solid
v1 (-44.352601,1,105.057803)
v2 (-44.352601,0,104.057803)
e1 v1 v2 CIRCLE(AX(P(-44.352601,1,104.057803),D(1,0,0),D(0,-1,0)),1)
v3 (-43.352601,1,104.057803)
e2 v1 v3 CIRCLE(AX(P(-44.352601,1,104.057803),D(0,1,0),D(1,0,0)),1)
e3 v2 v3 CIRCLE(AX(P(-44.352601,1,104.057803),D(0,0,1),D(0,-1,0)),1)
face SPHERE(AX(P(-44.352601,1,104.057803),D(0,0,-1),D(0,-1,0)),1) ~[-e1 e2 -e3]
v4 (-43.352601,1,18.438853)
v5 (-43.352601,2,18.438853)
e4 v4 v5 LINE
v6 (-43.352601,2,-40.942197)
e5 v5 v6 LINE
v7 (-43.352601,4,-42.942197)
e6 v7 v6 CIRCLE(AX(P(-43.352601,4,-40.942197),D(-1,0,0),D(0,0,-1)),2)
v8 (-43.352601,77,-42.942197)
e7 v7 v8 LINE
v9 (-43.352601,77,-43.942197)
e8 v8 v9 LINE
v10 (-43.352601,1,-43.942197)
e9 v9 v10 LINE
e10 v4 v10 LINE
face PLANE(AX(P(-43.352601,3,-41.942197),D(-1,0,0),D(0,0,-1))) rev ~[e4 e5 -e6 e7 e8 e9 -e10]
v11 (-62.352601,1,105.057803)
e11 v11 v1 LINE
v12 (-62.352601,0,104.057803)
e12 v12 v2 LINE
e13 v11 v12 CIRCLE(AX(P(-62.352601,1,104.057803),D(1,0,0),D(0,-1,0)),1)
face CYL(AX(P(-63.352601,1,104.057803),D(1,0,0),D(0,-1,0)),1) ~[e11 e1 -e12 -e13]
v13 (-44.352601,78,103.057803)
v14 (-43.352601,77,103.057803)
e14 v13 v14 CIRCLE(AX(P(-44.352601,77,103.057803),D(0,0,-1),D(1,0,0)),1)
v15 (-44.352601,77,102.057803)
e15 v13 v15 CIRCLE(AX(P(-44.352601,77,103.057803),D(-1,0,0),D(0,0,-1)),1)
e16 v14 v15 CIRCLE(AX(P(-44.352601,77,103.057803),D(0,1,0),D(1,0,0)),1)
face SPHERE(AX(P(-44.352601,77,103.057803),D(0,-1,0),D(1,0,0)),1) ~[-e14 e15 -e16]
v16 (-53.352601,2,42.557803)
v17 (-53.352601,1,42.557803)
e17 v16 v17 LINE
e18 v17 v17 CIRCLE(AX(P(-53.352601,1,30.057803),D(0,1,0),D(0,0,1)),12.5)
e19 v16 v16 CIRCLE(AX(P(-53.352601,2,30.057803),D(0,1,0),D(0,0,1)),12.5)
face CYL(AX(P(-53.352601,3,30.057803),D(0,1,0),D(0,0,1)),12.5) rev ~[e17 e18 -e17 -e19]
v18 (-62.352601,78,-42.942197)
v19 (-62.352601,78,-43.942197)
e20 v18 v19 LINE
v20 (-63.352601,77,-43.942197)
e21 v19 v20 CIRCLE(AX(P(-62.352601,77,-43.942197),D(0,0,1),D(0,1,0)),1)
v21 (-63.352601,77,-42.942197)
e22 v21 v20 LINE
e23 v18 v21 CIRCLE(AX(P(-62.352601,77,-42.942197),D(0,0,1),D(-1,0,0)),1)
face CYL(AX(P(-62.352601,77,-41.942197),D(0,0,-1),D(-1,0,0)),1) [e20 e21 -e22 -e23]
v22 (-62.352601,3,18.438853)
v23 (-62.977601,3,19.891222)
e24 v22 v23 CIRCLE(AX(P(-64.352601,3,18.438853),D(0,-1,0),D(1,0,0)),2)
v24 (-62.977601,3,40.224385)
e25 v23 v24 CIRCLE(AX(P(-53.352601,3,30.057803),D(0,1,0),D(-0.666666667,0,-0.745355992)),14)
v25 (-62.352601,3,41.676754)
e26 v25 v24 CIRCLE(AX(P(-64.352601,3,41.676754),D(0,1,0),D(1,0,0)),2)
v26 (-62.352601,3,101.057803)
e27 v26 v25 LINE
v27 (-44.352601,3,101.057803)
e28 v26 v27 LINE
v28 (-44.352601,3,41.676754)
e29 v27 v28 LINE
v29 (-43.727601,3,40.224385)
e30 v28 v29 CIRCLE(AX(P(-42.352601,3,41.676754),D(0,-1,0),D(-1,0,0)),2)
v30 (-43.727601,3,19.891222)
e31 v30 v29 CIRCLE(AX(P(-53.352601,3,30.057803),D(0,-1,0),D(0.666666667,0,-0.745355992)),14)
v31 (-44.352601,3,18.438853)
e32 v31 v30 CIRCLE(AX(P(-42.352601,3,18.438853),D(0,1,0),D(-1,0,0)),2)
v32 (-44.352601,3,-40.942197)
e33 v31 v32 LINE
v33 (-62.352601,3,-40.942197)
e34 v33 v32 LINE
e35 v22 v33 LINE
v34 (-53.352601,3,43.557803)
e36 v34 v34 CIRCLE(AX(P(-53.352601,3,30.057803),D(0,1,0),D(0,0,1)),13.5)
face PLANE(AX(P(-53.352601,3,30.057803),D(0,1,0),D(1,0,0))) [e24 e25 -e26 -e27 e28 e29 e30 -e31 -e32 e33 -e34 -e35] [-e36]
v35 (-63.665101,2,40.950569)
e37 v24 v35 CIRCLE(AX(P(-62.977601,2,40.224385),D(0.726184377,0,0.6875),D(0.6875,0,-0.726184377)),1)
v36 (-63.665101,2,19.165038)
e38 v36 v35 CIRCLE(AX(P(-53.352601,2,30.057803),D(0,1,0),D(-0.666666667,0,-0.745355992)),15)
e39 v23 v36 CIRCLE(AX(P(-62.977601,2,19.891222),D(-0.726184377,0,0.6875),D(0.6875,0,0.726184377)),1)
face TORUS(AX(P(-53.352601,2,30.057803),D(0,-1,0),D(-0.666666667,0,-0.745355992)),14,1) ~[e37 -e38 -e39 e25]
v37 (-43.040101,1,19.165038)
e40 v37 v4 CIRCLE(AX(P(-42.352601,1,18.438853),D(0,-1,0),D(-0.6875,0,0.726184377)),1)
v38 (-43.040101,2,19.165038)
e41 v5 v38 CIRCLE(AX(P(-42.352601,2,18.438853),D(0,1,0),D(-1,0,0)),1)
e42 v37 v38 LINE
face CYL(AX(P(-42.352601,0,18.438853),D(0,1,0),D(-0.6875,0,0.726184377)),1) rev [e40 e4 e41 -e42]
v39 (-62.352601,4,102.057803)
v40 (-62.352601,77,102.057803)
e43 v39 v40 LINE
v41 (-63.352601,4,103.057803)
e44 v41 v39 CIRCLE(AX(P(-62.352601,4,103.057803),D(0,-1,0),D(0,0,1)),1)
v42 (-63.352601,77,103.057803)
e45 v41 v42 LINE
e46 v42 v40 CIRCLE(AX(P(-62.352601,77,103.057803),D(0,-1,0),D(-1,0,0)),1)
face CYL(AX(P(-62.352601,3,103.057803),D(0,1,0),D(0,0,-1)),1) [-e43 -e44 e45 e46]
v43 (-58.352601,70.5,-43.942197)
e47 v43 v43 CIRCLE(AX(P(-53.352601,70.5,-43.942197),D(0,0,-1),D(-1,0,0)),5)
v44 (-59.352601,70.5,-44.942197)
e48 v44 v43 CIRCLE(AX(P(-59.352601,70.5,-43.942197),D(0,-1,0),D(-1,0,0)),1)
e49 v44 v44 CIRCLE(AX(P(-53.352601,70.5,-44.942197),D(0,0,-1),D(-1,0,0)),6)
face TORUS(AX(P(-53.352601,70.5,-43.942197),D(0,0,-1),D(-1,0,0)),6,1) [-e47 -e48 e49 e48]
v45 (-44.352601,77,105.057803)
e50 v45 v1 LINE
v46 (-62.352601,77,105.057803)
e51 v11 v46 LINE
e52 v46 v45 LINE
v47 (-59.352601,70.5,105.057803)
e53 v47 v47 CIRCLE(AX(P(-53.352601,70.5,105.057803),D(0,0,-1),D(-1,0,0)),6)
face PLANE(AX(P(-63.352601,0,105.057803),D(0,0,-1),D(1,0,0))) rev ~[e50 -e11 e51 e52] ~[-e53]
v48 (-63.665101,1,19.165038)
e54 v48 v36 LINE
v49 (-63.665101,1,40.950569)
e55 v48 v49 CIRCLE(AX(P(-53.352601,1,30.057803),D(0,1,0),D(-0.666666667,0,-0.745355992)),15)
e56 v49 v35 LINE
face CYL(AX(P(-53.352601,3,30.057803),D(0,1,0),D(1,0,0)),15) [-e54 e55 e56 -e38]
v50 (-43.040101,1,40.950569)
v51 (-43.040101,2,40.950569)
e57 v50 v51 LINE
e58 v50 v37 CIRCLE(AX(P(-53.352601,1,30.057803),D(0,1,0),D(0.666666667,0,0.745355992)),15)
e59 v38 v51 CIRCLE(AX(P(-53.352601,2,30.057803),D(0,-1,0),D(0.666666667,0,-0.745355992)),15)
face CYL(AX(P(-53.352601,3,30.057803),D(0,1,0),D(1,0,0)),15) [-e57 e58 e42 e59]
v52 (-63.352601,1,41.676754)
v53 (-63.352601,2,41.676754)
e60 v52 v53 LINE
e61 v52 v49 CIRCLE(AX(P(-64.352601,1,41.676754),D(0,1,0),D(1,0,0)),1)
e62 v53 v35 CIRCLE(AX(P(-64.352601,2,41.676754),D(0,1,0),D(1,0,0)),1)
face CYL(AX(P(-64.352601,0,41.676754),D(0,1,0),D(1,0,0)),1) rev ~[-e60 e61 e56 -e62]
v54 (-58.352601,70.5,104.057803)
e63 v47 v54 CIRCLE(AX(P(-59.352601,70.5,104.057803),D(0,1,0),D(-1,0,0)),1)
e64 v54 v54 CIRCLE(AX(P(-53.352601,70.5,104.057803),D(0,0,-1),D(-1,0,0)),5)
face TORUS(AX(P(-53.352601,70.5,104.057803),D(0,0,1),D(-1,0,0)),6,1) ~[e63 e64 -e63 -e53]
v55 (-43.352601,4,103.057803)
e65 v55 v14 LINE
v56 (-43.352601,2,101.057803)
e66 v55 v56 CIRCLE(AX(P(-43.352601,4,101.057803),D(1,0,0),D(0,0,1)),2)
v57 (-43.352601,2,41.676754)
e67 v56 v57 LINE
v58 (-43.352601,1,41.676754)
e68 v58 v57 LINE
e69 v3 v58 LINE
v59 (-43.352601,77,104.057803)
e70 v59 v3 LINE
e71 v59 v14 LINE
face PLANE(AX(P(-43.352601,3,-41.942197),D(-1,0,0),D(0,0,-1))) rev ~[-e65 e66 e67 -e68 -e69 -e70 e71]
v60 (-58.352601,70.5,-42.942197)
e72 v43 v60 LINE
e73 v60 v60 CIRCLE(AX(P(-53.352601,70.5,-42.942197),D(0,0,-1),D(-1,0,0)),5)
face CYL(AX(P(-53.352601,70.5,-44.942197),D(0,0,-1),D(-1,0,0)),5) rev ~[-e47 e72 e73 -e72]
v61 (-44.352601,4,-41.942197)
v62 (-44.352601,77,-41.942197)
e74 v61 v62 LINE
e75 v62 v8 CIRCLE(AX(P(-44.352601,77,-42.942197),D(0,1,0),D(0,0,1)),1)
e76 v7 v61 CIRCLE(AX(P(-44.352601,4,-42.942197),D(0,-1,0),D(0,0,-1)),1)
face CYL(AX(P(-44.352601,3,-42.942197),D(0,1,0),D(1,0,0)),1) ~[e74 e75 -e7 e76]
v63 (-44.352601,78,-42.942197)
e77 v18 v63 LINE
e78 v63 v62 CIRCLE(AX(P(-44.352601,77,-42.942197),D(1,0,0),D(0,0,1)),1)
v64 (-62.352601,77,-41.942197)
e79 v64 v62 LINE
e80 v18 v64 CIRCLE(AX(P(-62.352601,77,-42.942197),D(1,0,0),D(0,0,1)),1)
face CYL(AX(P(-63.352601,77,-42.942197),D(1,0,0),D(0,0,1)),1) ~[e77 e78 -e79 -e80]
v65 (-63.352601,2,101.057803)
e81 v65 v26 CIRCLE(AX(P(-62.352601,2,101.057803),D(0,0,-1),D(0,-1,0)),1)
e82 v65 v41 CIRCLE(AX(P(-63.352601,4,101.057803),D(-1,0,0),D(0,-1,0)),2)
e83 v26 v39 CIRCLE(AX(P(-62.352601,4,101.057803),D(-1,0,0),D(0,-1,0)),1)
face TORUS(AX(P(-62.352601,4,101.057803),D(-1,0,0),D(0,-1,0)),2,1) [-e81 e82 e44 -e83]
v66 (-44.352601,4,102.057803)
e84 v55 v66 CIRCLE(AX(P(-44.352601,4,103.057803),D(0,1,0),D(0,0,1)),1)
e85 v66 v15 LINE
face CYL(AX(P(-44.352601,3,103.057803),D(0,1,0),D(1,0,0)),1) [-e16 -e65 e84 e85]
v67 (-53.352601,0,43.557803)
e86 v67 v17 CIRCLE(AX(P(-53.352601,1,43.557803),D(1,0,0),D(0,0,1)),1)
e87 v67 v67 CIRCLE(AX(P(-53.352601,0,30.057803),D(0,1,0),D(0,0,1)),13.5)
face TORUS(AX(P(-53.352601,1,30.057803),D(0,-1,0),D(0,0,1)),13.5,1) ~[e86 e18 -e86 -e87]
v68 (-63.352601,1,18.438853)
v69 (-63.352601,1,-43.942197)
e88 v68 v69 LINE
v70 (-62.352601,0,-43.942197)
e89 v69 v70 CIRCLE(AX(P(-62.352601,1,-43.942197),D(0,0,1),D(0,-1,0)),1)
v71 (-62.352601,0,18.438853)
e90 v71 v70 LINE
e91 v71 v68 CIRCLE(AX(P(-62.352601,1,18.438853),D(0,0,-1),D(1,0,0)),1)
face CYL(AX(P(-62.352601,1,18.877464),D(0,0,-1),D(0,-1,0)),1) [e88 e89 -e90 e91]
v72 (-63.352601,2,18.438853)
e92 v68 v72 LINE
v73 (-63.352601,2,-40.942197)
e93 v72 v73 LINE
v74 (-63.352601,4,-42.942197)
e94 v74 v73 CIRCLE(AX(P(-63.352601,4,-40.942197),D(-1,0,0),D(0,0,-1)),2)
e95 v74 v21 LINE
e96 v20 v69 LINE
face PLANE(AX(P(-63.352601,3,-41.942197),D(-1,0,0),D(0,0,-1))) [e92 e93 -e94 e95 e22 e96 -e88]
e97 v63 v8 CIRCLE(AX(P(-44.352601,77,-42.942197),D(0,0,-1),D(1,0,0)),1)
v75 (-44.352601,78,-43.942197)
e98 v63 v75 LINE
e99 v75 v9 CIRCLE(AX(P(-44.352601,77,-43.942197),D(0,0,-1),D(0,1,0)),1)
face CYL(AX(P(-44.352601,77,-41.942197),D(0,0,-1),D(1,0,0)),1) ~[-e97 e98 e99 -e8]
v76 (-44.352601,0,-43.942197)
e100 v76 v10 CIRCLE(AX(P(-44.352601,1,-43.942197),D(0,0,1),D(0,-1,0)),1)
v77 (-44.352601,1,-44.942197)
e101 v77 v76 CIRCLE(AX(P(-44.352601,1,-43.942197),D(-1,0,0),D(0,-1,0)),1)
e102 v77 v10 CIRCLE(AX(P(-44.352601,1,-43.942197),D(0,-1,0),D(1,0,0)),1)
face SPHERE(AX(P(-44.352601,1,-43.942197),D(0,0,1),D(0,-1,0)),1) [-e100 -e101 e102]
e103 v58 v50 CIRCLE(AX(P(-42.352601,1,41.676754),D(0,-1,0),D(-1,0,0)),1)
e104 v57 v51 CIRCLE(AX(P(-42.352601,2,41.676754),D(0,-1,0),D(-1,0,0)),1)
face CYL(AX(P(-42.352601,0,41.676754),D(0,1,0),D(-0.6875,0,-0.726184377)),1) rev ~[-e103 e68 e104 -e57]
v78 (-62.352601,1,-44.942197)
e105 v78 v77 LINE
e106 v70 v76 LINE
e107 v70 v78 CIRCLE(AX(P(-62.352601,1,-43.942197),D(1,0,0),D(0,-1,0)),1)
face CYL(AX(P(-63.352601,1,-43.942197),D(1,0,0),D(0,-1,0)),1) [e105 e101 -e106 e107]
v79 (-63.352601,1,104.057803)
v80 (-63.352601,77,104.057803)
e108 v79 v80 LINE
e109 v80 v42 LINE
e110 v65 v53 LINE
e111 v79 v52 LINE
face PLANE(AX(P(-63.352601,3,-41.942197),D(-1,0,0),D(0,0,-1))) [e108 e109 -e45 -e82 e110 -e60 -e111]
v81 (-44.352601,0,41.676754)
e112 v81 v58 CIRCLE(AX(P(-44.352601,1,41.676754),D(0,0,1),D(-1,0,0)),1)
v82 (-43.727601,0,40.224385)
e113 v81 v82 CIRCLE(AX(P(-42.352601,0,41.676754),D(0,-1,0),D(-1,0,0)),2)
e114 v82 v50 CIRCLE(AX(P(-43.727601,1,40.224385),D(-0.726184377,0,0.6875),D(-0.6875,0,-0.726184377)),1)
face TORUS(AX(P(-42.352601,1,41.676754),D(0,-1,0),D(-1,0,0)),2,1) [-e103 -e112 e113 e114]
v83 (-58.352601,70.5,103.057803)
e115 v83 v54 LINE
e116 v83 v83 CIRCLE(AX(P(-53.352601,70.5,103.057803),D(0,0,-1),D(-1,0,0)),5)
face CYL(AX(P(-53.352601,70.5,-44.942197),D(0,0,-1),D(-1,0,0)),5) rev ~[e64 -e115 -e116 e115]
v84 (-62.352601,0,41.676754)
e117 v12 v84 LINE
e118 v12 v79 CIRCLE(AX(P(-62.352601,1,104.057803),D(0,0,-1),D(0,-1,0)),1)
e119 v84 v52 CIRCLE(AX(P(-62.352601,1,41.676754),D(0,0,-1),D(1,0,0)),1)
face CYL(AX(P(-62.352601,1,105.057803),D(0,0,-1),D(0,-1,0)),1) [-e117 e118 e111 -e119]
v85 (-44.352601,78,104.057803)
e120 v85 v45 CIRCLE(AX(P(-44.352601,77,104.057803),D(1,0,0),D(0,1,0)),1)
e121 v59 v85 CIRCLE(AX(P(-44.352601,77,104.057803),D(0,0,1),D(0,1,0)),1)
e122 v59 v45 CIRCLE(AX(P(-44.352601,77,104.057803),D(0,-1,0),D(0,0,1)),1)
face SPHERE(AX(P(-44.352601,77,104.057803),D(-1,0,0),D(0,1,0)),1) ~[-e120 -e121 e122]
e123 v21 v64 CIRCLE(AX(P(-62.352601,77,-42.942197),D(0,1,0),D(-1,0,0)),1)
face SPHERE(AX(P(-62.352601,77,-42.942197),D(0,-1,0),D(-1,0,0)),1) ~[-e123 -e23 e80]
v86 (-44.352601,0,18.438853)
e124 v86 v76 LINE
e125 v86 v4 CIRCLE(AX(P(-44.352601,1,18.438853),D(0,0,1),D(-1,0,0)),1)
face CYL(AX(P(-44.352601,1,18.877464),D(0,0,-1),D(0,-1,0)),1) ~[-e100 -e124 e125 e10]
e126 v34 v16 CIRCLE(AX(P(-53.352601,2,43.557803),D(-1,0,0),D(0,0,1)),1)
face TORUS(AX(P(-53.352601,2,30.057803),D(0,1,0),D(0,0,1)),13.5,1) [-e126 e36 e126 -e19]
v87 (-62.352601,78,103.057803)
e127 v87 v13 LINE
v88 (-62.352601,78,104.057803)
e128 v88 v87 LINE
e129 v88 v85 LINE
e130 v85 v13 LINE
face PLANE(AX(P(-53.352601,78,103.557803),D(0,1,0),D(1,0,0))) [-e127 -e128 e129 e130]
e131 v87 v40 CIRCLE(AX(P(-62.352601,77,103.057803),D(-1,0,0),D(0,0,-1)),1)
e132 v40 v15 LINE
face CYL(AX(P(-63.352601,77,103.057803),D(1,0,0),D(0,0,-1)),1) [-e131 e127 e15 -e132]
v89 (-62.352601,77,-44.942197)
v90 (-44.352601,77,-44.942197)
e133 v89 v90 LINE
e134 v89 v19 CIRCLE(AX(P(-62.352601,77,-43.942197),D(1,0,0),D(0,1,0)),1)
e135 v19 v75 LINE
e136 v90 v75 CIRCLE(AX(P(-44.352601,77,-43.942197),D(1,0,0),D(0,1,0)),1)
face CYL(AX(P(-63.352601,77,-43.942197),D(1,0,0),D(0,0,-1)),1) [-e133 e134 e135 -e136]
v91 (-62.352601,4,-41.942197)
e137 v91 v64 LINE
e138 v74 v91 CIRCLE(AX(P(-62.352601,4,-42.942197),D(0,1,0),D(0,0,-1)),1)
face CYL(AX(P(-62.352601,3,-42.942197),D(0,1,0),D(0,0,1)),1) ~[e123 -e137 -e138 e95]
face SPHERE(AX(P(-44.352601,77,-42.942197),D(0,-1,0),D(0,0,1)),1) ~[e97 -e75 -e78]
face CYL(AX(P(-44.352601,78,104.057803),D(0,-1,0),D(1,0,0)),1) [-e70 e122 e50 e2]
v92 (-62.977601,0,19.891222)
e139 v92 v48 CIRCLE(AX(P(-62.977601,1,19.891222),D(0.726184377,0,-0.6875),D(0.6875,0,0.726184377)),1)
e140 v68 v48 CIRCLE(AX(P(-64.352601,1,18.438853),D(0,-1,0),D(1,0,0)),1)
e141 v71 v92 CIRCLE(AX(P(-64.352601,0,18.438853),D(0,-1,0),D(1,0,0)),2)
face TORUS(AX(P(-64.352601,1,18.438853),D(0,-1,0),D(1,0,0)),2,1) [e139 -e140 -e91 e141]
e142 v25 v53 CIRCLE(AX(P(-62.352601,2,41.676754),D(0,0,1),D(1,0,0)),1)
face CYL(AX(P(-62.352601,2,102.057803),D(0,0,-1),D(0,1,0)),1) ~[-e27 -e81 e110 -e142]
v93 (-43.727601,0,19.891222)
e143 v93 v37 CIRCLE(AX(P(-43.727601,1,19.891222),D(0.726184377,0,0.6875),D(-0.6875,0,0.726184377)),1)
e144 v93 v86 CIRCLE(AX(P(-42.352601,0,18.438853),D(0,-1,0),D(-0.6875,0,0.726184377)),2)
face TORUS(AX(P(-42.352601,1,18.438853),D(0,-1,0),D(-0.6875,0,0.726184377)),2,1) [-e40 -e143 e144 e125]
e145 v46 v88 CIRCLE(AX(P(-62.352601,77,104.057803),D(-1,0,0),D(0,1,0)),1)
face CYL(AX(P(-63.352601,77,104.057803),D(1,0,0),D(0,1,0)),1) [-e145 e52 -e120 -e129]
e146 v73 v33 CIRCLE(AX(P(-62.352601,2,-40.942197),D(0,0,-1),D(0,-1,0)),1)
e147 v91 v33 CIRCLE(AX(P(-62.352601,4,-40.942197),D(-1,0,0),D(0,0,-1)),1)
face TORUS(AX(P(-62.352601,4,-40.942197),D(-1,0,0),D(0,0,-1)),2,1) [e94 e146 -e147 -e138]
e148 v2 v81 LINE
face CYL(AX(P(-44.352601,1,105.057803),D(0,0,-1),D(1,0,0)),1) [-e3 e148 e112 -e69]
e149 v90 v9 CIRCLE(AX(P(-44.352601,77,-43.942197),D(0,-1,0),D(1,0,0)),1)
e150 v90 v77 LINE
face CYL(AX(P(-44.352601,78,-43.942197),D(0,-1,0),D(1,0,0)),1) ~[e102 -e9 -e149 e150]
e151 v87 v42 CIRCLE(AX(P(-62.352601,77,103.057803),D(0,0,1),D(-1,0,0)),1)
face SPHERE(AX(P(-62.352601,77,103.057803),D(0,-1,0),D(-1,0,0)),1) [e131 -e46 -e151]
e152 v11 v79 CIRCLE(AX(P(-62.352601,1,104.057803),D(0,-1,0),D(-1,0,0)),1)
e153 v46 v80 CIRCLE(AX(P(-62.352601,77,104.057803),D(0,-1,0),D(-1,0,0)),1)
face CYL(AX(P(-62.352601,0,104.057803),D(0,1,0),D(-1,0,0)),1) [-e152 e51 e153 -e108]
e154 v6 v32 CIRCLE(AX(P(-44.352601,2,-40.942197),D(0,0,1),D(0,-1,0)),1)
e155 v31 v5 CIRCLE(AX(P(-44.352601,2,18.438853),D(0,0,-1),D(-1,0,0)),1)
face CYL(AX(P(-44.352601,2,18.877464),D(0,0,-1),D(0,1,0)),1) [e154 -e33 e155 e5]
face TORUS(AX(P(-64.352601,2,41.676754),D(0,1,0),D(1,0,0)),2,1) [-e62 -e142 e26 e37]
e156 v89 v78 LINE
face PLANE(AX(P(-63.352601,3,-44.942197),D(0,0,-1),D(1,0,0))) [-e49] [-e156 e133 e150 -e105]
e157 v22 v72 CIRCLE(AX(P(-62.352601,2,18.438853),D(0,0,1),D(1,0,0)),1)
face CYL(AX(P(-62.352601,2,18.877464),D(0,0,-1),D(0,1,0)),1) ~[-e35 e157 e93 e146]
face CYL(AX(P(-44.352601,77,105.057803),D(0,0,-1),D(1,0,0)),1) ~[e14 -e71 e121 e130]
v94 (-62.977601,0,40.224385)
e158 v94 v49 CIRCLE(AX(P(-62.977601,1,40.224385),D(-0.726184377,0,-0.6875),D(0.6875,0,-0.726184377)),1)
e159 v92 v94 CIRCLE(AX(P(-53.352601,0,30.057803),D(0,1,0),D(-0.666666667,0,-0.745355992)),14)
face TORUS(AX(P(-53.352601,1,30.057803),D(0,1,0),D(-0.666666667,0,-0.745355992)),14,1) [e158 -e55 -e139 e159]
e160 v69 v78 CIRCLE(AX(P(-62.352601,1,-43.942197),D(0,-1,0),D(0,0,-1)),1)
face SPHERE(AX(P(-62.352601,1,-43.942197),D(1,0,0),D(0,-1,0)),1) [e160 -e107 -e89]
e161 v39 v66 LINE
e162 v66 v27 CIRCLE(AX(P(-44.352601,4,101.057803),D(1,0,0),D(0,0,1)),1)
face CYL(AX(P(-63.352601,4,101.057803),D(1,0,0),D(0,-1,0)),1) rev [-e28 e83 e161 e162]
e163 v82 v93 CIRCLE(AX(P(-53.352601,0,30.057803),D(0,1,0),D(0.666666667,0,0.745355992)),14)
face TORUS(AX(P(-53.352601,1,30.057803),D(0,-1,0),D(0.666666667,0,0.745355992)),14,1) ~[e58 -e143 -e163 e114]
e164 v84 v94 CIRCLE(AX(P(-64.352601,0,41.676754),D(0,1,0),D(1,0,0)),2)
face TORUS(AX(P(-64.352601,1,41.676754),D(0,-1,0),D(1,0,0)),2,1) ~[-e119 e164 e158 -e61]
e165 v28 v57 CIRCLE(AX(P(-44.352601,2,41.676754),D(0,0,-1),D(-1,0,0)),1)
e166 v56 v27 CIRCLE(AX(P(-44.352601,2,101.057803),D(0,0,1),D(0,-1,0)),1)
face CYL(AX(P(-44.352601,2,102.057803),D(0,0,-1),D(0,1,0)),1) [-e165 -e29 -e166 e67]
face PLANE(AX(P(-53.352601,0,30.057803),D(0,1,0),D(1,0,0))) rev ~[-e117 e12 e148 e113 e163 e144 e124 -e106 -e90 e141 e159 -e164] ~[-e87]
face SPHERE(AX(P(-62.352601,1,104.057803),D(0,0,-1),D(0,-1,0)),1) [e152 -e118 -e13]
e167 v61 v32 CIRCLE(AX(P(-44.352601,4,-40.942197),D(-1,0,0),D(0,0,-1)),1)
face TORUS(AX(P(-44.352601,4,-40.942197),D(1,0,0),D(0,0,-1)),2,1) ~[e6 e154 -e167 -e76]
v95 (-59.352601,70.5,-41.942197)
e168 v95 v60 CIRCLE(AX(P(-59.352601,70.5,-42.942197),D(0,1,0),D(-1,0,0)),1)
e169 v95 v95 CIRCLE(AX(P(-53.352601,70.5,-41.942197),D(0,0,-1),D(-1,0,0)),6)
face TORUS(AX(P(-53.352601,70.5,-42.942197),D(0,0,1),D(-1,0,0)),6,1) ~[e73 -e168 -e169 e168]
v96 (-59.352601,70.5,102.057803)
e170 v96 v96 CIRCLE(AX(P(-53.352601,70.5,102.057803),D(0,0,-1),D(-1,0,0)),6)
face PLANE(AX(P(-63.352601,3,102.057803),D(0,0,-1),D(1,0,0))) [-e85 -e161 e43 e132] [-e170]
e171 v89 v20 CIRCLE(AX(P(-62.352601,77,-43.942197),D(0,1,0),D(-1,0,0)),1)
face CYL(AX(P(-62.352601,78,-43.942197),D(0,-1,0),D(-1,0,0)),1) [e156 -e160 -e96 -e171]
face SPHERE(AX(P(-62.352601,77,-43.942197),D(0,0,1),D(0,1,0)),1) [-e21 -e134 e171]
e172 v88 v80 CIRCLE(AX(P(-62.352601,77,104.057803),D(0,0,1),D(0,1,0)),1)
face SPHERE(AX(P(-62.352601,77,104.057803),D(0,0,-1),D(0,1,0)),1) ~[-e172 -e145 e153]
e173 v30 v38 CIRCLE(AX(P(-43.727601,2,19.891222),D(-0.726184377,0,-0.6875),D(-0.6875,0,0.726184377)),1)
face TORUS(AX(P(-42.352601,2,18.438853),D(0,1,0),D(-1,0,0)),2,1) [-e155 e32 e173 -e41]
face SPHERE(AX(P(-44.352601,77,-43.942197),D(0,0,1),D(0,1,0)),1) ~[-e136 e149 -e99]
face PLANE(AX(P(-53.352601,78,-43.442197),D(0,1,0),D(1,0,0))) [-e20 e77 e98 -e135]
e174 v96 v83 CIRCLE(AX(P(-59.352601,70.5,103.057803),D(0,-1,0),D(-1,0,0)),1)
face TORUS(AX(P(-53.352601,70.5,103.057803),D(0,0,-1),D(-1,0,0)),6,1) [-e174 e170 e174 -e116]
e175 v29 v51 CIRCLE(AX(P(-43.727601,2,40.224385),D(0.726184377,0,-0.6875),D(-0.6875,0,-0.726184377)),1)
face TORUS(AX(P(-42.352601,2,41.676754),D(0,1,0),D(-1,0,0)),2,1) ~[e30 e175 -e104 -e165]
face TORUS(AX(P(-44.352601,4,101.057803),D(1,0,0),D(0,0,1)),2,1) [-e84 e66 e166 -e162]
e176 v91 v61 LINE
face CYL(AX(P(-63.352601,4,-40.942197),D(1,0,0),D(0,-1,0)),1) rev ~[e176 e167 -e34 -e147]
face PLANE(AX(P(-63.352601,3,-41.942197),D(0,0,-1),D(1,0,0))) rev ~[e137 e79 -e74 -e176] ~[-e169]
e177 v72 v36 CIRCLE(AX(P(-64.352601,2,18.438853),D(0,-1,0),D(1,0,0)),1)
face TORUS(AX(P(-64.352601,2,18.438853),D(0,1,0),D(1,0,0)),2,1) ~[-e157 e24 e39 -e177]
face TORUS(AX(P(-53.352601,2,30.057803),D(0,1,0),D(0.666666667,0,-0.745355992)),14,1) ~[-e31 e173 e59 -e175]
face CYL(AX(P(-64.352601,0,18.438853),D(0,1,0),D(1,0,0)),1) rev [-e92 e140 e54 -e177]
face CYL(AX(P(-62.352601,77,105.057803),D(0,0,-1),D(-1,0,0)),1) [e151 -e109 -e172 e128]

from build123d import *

# Parameters (mm, degrees)
SKETCH1_W           = 20
SKETCH1_H           = 150
BOSS_EXTRUDE1_DEPTH = 3
SKETCH2_W           = 20
SKETCH2_H           = 3
BOSS_EXTRUDE2_DEPTH = 75
SKETCH4_R           = 5
CUT_EXTRUDE1_DEPTH  = 181.547921819
SKETCH5_R           = 15
BOSS_EXTRUDE3_DEPTH = 3
SKETCH6_R           = 12.5
CUT_EXTRUDE2_DEPTH  = 147.062384461
FILLET1_R           = 1


with BuildPart() as part:
    # Sketch1 → Boss-Extrude1 (new body)
    with BuildSketch(Plane(origin=(0, 0, 0), x_dir=(1, 0, 0), z_dir=(0, 1, 0))):
        with Locations((-53.352601156, -30.057803468)):
            Rectangle(SKETCH1_W, SKETCH1_H)
    extrude(amount=BOSS_EXTRUDE1_DEPTH)

    # Sketch2 → Boss-Extrude2 (add)
    with BuildSketch(Plane(origin=(0, 3, 0), x_dir=(1, 0, 0), z_dir=(0, 1, 0))):
        with Locations((-53.352601156, 43.442196532)):
            Rectangle(SKETCH2_W, SKETCH2_H)
        with Locations((-53.352601156, -103.557803468)):
            Rectangle(SKETCH2_W, SKETCH2_H)
    extrude(amount=BOSS_EXTRUDE2_DEPTH)

    # Sketch4 → Cut-Extrude1 (cut, through all)
    with BuildSketch(Plane(origin=(0, 0, -44.942196532), x_dir=(-1, 0, 0), z_dir=(0, 0, -1))):
        with Locations((53.352601156, 70.5)):
            Circle(SKETCH4_R)
    extrude(amount=-CUT_EXTRUDE1_DEPTH, mode=Mode.SUBTRACT)

    # Sketch5 → Boss-Extrude3 (add)
    with BuildSketch(Plane(origin=(0, 3, 0), x_dir=(1, 0, 0), z_dir=(0, 1, 0))):
        with Locations((-53.352601156, -30.057803468)):
            Circle(SKETCH5_R)
    extrude(amount=-BOSS_EXTRUDE3_DEPTH)

    # Sketch6 → Cut-Extrude2 (cut, through all)
    with BuildSketch(Plane(origin=(0, 3, 0), x_dir=(1, 0, 0), z_dir=(0, 1, 0))):
        with Locations(Location((-53.352601156, -30.057803468, 0), (0, 0, 270))):
            Circle(SKETCH6_R)
    extrude(amount=-CUT_EXTRUDE2_DEPTH, mode=Mode.SUBTRACT)

    # Fillet1
    fillet1_edges = [part.edges().sort_by_distance(p)[0] for p in [
        (-63.352601156, 3, -11.532366476),
        (-43.352601156, 3, 71.647973412),
        (-53.352601156, 3, -41.942196532),
        (-63.352601156, 40.5, -41.942196532),
        (-43.352601156, 40.5, -41.942196532),
        (-63.352601156, 78, -43.442196532),
        (-53.352601156, 78, -41.942196532),
        (-43.352601156, 78, -43.442196532),
        (-53.352601156, 78, -44.942196532),
        (-63.352601156, 40.5, 102.057803468),
        (-53.352601156, 3, 102.057803468),
        (-43.352601156, 40.5, 102.057803468),
        (-63.352601156, 78, 103.557803468),
        (-53.352601156, 78, 105.057803468),
        (-43.352601156, 78, 103.557803468),
        (-53.352601156, 78, 102.057803468),
        (-48.352601156, 70.5, 105.057803468),
        (-48.352601156, 70.5, 102.057803468),
        (-48.352601156, 70.5, -41.942196532),
        (-48.352601156, 70.5, -44.942196532),
        (-63.352601156, 0, 73.147973412),
        (-43.352601156, 0, -13.032366476),
        (-53.352601156, 0, -44.942196532),
        (-63.352601156, 3, 71.647973412),
        (-43.352601156, 3, -11.532366476),
        (-43.352601156, 0, 73.147973412),
        (-68.352601156, 3, 30.057803468),
        (-38.352601156, 3, 30.057803468),
        (-68.352601156, 0, 30.057803468),
        (-63.352601156, 1.5, 18.877463581),
        (-43.352601156, 1.5, 18.877463581),
        (-38.352601156, 0, 30.057803468),
        (-53.352601156, 0, 105.057803468),
        (-63.352601156, 1.5, 41.238143356),
        (-43.352601156, 1.5, 41.238143356),
        (-63.352601156, 0, -13.032366476),
        (-53.352601156, 0, 17.557803468),
        (-53.352601156, 3, 17.557803468),
        (-63.352601156, 39, -44.942196532),
        (-43.352601156, 39, -44.942196532),
        (-43.352601156, 39, 105.057803468),
        (-63.352601156, 39, 105.057803468),
    ]]
    fillet(fillet1_edges, radius=FILLET1_R)


solid = part.part
